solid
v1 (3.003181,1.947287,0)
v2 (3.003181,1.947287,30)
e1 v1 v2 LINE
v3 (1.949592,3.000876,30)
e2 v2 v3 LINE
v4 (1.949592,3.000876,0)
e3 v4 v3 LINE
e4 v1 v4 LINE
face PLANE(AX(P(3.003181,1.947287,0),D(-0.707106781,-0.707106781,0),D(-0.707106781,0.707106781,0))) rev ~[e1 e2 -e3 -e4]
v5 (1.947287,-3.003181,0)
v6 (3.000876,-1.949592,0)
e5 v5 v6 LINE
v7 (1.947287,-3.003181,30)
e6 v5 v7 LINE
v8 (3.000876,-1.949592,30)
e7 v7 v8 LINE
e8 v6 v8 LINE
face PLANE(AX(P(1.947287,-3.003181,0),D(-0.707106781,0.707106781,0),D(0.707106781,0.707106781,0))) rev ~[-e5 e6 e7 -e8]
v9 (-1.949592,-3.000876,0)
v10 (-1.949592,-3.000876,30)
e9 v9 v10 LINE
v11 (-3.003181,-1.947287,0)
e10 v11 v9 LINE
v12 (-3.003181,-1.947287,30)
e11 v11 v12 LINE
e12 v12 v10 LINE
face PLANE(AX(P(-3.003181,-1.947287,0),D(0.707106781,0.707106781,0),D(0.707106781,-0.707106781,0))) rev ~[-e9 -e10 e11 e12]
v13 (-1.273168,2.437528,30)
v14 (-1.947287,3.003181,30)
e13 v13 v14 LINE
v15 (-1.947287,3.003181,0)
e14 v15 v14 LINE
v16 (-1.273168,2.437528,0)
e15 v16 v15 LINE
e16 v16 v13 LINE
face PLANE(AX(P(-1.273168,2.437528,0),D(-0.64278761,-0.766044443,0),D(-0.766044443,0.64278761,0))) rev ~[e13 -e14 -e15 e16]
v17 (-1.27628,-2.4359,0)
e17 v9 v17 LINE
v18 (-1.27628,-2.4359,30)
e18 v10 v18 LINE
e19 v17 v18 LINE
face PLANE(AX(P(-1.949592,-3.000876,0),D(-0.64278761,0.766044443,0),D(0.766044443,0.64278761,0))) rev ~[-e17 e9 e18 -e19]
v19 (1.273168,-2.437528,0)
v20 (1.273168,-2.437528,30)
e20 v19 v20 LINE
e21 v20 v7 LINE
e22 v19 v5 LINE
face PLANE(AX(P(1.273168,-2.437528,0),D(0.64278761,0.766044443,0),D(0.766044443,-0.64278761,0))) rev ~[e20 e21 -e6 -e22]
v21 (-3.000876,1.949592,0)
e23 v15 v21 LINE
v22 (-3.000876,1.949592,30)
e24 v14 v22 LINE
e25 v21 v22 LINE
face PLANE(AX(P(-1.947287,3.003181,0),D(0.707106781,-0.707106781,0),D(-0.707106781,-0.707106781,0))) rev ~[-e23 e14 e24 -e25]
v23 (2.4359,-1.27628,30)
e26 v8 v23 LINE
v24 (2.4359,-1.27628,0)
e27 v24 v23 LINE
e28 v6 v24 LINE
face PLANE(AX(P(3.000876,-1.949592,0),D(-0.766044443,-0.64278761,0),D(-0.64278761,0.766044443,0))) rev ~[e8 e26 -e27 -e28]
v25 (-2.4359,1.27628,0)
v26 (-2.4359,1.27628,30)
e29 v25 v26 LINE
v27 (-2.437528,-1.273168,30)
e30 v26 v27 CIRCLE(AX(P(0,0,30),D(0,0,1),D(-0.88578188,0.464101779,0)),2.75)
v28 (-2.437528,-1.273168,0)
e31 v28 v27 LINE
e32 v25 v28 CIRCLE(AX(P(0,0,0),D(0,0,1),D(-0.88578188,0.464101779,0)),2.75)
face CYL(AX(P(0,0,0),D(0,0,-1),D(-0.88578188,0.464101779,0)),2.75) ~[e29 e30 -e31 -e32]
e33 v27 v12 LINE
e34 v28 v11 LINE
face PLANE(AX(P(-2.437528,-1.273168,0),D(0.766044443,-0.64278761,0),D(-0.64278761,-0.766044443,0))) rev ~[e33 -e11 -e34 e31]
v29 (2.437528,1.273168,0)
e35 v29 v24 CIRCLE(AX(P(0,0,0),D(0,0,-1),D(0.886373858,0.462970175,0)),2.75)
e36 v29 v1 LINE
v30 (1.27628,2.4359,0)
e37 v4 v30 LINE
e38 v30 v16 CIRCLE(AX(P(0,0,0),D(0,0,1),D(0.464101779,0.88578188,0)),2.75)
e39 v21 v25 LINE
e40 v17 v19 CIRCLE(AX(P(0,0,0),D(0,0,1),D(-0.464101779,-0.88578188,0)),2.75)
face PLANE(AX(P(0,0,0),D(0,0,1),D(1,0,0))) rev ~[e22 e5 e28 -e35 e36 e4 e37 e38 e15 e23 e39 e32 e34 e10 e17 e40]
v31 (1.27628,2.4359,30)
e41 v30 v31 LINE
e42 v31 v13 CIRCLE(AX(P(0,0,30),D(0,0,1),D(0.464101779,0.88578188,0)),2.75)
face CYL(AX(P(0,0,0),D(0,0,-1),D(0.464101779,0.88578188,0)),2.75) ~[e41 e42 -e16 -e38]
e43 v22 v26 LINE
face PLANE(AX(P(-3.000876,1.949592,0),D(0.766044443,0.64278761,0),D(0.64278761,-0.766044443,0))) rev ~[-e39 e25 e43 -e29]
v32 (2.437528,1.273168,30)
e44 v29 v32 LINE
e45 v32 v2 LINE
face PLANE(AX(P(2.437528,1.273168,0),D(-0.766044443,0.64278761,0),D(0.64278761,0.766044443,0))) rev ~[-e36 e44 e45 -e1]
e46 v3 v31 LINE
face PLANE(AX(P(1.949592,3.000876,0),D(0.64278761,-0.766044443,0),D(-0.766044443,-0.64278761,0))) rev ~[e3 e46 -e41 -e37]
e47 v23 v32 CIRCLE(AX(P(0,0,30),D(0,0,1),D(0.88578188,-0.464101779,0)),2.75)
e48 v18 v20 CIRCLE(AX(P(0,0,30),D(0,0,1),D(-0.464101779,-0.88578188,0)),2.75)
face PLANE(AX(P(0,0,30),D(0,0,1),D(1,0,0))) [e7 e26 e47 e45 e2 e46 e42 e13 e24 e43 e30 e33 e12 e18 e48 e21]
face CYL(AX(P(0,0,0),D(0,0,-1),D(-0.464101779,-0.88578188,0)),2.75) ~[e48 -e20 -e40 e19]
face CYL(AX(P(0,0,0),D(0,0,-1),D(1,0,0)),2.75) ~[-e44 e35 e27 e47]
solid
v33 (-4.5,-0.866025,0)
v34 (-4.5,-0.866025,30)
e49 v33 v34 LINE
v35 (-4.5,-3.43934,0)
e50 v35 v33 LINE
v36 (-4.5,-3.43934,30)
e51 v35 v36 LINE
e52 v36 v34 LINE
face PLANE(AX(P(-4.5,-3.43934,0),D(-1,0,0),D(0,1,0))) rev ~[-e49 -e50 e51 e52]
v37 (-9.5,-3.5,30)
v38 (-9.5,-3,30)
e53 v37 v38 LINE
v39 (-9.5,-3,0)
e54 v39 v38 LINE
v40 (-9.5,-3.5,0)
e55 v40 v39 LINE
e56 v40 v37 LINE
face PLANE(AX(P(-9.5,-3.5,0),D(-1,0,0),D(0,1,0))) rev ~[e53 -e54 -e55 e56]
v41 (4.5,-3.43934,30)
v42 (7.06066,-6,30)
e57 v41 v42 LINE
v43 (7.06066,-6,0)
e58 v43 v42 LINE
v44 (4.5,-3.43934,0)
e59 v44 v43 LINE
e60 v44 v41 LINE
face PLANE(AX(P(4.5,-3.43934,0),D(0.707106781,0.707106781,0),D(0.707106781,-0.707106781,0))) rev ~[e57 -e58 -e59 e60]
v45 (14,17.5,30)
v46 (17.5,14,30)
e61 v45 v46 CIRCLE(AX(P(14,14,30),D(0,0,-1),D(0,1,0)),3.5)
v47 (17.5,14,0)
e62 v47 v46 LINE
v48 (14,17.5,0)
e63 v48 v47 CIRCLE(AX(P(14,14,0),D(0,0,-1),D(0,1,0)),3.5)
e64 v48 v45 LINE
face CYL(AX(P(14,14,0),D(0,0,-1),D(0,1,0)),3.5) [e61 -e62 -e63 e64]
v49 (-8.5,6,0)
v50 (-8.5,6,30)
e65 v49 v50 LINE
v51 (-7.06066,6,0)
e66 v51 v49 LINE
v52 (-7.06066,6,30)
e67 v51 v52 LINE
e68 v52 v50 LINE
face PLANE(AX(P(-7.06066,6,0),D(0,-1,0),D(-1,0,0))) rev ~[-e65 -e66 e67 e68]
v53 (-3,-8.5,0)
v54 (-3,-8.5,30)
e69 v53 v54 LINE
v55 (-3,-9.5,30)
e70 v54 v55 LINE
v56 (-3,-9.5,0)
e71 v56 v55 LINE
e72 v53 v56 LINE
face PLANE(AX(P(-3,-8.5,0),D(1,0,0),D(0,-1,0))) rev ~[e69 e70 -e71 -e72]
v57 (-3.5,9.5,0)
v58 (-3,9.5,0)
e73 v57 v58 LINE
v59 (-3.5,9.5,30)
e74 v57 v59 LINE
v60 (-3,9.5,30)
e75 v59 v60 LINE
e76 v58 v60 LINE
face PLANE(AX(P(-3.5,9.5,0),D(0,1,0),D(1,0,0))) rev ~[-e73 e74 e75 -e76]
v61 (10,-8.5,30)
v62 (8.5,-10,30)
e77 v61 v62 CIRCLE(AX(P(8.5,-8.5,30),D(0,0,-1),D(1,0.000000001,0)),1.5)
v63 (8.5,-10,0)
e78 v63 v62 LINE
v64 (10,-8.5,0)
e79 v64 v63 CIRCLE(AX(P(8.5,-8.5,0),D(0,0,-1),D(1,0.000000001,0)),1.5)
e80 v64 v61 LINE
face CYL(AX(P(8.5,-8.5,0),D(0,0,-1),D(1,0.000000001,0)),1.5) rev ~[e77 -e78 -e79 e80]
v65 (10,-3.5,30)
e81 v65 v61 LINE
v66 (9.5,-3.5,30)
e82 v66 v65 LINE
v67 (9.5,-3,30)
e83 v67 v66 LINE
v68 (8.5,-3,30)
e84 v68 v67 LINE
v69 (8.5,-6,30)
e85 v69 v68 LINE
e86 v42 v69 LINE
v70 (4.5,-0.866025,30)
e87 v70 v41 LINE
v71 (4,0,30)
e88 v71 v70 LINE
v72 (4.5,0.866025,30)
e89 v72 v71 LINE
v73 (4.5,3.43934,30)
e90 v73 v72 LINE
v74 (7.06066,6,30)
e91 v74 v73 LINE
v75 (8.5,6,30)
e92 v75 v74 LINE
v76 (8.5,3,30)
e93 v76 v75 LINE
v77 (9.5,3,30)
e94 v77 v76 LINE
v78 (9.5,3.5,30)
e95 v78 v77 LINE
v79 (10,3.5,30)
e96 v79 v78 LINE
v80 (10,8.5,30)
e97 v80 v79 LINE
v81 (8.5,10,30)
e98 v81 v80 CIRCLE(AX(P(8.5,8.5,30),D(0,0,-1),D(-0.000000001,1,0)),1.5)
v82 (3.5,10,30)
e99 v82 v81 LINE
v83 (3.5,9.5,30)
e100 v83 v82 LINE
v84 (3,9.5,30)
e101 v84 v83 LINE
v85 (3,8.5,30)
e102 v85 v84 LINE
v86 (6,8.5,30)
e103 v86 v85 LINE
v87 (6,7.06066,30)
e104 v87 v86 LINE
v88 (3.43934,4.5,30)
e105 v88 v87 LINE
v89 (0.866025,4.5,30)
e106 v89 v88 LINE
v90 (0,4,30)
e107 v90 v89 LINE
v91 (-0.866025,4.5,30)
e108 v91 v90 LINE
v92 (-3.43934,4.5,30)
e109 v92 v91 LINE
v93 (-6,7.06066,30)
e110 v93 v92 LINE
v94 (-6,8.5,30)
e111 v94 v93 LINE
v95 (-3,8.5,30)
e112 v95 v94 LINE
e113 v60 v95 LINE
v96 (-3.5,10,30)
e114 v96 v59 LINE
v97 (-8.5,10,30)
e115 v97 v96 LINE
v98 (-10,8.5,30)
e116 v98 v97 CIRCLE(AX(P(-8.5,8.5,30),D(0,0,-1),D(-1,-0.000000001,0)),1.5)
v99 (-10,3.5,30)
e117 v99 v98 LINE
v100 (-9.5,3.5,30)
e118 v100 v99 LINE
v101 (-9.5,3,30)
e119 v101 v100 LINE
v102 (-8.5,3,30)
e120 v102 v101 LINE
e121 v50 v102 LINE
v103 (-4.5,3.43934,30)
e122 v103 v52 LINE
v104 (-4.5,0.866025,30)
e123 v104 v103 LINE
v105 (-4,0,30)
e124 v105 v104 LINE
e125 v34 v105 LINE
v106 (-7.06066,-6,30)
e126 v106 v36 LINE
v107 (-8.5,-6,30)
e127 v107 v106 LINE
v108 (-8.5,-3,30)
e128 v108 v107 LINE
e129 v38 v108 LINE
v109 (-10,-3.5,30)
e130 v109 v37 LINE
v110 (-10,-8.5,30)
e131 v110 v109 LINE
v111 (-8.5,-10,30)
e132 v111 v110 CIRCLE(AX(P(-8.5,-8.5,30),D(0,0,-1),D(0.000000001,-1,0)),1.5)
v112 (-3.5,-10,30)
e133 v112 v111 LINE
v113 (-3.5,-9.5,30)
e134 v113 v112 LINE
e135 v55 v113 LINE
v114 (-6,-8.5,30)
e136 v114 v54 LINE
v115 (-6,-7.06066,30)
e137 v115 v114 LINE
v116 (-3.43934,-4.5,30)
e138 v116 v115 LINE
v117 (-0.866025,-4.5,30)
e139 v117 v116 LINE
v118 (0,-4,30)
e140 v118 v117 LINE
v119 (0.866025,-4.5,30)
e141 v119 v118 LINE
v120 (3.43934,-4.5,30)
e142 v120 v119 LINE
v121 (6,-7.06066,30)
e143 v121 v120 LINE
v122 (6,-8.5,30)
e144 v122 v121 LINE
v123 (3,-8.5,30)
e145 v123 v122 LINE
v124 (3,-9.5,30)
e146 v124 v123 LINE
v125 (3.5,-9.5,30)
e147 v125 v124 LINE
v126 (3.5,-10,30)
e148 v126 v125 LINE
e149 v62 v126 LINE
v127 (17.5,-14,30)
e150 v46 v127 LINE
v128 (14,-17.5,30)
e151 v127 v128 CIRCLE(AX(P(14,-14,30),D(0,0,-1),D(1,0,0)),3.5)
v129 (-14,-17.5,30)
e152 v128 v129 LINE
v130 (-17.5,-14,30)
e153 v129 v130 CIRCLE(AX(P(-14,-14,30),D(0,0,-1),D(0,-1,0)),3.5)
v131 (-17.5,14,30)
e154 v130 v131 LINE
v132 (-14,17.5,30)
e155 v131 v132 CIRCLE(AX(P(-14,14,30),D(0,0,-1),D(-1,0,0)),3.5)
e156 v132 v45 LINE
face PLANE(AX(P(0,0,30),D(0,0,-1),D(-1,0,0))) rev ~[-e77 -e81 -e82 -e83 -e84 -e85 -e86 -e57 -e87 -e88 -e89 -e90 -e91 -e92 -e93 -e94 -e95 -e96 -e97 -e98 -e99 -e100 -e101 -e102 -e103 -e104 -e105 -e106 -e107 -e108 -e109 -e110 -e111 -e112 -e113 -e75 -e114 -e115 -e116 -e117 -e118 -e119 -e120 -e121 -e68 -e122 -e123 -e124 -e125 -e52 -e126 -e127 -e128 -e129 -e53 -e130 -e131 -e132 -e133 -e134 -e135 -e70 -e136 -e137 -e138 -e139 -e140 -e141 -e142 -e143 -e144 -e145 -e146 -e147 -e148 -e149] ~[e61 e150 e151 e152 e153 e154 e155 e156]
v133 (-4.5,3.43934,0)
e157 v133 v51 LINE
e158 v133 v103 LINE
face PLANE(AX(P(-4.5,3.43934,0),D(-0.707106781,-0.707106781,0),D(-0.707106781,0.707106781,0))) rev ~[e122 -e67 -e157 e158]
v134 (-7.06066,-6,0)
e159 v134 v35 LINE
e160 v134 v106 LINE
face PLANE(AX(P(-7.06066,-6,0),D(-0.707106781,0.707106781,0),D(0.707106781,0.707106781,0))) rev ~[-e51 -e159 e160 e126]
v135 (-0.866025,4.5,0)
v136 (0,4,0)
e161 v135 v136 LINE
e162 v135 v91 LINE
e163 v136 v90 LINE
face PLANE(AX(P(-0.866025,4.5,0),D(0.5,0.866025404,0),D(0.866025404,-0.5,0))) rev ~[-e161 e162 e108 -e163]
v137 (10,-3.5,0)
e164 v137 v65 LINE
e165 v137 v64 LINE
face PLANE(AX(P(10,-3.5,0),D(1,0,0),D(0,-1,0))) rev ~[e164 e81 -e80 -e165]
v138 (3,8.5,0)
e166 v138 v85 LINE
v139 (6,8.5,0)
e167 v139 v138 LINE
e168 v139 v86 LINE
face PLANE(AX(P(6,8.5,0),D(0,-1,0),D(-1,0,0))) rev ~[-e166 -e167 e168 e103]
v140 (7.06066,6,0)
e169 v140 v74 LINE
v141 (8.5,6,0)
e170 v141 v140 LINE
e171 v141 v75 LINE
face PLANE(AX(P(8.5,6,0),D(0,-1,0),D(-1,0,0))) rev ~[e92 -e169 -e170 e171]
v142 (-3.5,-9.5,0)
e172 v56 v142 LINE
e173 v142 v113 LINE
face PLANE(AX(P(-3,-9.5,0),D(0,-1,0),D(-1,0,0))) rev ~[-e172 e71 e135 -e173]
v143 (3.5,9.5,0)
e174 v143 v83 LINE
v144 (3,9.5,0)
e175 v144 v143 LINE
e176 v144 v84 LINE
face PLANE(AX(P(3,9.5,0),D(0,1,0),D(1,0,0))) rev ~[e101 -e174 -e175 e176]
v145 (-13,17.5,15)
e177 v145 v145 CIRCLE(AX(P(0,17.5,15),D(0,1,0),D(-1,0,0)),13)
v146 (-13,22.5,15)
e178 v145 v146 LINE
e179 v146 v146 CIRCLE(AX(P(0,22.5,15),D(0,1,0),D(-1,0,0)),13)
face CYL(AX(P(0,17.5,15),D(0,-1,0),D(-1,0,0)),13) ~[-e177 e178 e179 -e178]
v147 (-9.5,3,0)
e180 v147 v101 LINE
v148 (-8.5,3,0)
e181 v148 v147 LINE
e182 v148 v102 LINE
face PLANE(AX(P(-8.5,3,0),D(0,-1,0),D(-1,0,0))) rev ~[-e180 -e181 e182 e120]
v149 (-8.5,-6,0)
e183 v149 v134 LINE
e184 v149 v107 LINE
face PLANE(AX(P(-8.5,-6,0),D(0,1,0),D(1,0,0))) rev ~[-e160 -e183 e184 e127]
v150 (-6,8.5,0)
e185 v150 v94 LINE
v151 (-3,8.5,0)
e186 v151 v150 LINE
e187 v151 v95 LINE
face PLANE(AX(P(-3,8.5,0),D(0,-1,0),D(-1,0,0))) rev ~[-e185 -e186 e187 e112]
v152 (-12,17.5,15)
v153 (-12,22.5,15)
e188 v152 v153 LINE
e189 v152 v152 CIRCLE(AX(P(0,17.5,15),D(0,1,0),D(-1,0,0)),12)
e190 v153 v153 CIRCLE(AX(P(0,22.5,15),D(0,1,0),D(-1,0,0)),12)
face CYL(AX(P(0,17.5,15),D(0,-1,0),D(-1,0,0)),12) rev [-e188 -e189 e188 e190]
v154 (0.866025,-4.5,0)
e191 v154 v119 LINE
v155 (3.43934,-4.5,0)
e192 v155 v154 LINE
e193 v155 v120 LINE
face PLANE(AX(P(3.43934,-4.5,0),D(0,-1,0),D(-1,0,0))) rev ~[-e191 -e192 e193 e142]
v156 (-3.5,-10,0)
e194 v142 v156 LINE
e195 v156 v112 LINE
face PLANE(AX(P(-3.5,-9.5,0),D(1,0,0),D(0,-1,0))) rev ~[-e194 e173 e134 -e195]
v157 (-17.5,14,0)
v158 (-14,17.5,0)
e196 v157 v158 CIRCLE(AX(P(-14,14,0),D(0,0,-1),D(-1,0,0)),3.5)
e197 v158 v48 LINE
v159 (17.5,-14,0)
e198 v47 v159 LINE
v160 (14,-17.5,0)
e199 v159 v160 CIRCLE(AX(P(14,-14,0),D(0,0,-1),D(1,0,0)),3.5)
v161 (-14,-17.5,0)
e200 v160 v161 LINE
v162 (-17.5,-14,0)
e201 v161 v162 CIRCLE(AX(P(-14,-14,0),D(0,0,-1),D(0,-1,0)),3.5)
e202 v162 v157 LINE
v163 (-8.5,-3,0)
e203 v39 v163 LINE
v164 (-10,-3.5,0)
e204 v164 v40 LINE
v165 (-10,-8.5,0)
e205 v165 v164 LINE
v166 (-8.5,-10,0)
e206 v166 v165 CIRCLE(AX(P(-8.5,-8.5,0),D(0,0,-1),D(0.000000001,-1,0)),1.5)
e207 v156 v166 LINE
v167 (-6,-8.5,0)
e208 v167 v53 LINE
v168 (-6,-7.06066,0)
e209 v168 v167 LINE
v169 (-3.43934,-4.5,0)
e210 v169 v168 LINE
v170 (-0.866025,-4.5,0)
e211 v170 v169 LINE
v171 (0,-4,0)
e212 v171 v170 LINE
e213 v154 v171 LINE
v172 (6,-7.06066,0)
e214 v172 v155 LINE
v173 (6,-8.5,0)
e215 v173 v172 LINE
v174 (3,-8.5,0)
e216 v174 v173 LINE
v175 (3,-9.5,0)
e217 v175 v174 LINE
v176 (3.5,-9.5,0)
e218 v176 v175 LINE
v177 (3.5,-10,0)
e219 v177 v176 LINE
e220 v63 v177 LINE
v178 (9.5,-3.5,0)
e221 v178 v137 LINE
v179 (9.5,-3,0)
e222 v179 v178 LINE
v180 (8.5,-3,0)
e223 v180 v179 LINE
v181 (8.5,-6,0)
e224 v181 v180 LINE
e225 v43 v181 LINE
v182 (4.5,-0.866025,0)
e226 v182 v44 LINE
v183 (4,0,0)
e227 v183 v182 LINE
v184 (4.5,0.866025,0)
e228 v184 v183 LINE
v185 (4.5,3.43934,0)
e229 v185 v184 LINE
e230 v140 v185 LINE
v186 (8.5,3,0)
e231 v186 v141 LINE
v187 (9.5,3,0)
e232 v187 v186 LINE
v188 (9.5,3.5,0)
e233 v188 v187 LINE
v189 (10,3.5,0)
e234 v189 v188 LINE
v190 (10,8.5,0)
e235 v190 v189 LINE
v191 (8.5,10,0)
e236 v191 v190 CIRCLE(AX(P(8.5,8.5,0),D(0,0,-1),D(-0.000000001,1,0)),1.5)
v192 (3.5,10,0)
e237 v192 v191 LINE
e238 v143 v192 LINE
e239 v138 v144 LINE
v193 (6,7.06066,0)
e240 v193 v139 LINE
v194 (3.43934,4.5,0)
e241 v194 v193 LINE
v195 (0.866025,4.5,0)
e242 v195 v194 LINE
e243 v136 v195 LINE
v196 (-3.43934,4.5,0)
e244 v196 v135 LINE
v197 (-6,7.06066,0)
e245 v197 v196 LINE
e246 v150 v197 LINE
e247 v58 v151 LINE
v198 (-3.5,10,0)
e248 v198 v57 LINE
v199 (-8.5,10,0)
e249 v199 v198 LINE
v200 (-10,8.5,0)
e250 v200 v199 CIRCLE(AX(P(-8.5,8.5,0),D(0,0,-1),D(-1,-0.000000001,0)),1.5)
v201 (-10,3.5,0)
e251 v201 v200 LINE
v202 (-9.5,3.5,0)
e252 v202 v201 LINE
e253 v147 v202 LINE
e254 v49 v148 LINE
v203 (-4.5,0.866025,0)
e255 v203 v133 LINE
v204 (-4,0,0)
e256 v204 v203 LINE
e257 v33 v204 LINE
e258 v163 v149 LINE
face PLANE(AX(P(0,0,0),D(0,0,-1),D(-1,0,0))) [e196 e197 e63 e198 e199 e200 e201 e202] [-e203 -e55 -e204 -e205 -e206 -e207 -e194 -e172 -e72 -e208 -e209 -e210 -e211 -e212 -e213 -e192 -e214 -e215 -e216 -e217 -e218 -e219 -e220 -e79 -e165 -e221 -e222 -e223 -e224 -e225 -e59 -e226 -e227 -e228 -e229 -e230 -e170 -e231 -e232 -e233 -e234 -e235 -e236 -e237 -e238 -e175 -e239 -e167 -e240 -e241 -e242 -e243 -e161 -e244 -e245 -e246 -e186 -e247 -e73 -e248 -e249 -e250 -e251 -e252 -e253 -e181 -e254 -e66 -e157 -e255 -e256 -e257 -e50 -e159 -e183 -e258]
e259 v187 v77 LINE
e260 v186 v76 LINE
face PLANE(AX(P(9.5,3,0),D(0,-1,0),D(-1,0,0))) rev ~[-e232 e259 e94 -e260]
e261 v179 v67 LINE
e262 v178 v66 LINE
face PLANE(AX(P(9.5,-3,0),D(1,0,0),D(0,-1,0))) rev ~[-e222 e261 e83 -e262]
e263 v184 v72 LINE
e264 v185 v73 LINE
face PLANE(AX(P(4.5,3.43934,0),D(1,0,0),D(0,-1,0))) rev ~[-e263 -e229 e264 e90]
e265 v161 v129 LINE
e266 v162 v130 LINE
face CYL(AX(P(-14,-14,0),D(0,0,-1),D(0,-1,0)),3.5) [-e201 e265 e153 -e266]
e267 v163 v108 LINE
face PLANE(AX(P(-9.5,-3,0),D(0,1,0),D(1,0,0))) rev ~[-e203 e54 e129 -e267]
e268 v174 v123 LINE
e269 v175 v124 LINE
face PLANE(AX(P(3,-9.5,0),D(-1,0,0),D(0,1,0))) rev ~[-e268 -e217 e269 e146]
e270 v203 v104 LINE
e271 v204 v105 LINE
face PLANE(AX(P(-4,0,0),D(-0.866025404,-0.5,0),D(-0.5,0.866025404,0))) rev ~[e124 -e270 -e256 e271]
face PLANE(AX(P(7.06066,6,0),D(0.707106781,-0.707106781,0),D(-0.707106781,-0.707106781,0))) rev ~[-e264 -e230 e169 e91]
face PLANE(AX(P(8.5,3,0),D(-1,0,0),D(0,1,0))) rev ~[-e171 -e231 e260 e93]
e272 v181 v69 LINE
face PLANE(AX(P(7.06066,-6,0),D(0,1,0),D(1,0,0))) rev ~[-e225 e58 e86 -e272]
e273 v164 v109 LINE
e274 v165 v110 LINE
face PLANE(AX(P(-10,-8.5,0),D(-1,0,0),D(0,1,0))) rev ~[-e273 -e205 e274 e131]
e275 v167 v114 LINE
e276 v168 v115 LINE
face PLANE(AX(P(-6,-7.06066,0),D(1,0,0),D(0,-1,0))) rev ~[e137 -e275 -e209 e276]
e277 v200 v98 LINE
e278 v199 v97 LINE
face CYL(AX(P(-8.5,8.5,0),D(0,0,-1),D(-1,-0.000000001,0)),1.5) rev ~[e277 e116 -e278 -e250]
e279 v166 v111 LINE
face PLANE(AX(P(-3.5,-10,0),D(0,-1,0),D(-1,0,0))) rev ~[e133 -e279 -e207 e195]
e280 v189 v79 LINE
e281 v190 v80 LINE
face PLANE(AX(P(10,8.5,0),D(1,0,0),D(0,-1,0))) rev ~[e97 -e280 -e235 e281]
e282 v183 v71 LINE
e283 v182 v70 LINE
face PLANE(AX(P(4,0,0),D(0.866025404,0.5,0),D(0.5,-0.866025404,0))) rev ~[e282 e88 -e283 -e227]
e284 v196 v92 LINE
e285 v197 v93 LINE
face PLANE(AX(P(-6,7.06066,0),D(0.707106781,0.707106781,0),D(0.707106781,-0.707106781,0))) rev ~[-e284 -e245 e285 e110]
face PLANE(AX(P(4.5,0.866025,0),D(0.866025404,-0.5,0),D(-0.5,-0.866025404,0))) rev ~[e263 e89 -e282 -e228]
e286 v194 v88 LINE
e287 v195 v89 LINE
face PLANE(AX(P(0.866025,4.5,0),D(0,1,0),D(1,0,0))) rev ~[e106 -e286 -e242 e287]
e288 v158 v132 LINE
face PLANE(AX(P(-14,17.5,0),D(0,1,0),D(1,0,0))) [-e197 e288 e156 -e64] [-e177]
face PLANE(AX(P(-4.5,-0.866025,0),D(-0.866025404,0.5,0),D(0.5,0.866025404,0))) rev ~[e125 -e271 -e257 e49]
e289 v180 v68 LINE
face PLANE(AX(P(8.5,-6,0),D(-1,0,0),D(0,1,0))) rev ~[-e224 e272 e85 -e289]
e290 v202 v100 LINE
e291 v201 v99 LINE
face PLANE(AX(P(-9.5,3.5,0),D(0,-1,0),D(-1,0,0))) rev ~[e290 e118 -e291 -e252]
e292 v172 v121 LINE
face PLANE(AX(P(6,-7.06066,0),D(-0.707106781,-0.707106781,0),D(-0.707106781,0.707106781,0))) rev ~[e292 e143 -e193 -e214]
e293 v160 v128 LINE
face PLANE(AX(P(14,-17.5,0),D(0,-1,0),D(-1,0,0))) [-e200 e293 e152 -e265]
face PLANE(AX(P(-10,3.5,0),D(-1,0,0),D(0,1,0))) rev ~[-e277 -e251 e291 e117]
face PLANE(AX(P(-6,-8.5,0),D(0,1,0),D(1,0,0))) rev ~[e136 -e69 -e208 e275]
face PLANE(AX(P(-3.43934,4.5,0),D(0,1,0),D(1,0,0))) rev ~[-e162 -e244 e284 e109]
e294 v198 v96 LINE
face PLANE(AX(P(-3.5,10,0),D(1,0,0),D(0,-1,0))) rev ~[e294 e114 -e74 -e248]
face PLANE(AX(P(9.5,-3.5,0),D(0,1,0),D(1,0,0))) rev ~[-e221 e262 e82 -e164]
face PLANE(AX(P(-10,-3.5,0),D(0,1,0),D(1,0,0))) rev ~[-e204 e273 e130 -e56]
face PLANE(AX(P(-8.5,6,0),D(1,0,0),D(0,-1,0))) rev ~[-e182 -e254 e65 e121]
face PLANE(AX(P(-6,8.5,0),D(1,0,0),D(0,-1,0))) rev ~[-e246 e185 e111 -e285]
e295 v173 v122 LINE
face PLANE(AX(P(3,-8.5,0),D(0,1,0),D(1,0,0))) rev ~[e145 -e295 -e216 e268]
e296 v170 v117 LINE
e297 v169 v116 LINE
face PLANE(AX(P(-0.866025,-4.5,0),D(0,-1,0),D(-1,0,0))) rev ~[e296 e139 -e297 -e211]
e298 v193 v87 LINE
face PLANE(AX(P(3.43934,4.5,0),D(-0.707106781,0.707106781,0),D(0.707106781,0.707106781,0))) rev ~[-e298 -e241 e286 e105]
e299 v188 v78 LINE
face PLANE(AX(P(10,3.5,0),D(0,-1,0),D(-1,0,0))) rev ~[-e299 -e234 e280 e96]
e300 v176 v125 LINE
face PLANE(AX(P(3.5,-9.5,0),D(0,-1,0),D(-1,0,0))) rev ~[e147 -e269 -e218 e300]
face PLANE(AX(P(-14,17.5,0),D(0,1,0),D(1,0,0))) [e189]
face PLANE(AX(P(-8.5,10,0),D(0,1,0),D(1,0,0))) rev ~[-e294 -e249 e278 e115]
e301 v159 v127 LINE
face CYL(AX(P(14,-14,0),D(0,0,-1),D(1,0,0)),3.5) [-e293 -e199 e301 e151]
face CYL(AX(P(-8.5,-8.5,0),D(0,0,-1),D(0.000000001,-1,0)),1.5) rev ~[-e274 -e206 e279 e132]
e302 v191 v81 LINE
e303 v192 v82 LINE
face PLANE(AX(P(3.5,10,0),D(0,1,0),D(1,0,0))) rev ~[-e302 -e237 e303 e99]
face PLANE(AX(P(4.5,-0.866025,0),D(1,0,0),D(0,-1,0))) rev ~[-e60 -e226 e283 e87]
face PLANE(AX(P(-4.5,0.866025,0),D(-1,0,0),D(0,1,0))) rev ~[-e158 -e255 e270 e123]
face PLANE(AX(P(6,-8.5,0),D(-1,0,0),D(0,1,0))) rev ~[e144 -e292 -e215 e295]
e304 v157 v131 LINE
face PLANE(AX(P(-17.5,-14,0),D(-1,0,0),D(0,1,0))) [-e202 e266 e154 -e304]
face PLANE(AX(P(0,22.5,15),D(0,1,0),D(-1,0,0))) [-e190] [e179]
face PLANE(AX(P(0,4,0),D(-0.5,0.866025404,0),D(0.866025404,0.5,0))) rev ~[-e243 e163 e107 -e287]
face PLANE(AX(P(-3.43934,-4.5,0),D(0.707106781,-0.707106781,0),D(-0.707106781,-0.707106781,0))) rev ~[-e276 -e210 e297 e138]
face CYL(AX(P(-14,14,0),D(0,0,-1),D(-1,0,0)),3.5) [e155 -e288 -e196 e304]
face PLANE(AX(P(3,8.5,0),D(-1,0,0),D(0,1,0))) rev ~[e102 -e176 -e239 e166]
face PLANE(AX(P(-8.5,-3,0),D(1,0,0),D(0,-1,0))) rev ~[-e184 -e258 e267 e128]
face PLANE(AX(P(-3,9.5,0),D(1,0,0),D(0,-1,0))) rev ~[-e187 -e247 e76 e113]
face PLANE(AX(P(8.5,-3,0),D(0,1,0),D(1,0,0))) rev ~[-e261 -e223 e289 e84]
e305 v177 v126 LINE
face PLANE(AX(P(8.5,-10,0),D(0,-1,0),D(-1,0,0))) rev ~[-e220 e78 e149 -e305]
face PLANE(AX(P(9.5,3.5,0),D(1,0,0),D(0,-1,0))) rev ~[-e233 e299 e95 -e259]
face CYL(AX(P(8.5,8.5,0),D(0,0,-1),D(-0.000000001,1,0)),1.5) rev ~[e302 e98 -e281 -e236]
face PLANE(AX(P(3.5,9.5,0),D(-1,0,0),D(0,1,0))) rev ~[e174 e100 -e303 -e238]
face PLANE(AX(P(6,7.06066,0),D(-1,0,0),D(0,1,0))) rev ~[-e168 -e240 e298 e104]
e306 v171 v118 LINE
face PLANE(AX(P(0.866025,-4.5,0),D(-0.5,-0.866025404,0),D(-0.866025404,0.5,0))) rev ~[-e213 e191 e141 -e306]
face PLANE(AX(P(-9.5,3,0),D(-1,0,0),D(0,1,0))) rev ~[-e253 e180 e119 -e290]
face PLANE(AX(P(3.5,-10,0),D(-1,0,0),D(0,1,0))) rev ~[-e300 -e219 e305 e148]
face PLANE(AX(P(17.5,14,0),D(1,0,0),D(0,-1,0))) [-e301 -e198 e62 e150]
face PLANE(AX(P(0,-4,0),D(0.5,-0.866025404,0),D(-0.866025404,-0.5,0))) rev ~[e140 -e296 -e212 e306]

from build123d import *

# Parameters (mm, degrees)
ESQUISSE1_R          = 2.75
BOSS_EXTRU_1_DEPTH   = 30
BOSS_EXTRU_1_2_DEPTH = 30
ESQUISSE3_R          = 13
ESQUISSE3_R_2        = 12
BOSS_EXTRU_2_DEPTH   = 5
BOSS_EXTRU_3_START   = -30
BOSS_EXTRU_3_DEPTH   = 30


with BuildPart() as part:
    # Esquisse1 → Boss.-Extru.1 (new body)
    with BuildSketch(Plane.XY):
        Circle(ESQUISSE1_R)
    extrude(amount=BOSS_EXTRU_1_DEPTH)

    # Esquisse4 → Boss.-Extru.3 (add)
    with BuildSketch(Plane.XY.offset(30).offset(BOSS_EXTRU_3_START)):
        with BuildLine():
            Line((1.949592103, 3.000876196), (1.276279893, 2.435900169))
            ThreePointArc((1.276279893, 2.435900169), (0.001756003, 2.749999439), (-1.273167982, 2.43752811))
            Line((-1.273167982, 2.43752811), (-1.947287092, 3.003181207))
            Line((-1.947287092, 3.003181207), (-3.000876196, 1.949592103))
            Line((-3.000876196, 1.949592103), (-2.435900169, 1.276279893))
            ThreePointArc((-2.435900169, 1.276279893), (-2.749999439, 0.001756003), (-2.43752811, -1.273167982))
            Line((-2.43752811, -1.273167982), (-3.003181207, -1.947287092))
            Line((-3.003181207, -1.947287092), (-1.949592103, -3.000876196))
            Line((-1.949592103, -3.000876196), (-1.276279893, -2.435900169))
            ThreePointArc((-1.276279893, -2.435900169), (-0.001756003, -2.749999439), (1.273167982, -2.43752811))
            Line((1.273167982, -2.43752811), (1.947287092, -3.003181207))
            Line((1.947287092, -3.003181207), (3.000876196, -1.949592103))
            Line((3.000876196, -1.949592103), (2.435900169, -1.276279893))
            ThreePointArc((2.435900169, -1.276279893), (2.749999439, -0.001756003), (2.43752811, 1.273167982))
            Line((2.43752811, 1.273167982), (3.003181207, 1.947287092))
            Line((3.003181207, 1.947287092), (1.949592103, 3.000876196))
        make_face()
    extrude(amount=BOSS_EXTRU_3_DEPTH)


with BuildPart() as body_2:
    # Esquisse1 → Boss.-Extru.1 2 (new body)
    with BuildSketch(Plane.XY):
        with BuildLine():
            Line((-14, 17.5), (14, 17.5))
            ThreePointArc((14, 17.5), (16.474873734, 16.474873734), (17.5, 14))
            Line((17.5, 14), (17.5, -14))
            ThreePointArc((17.5, -14), (16.474873734, -16.474873734), (14, -17.5))
            Line((14, -17.5), (-14, -17.5))
            ThreePointArc((-14, -17.5), (-16.474873734, -16.474873734), (-17.5, -14))
            Line((-17.5, -14), (-17.5, 14))
            ThreePointArc((-17.5, 14), (-16.474873734, 16.474873734), (-14, 17.5))
        make_face()
        with BuildLine():
            Line((-4, 0), (-4.5, 0.866025404))
            Line((-4.5, 0.866025404), (-4.5, 3.439339828))
            Line((-4.5, 3.439339828), (-7.060660172, 6))
            Line((-7.060660172, 6), (-8.5, 6))
            Line((-8.5, 6), (-8.5, 3))
            Line((-8.5, 3), (-9.5, 3))
            Line((-9.5, 3), (-9.5, 3.5))
            Line((-9.5, 3.5), (-10, 3.5))
            Line((-10, 3.5), (-10, 8.5))
            ThreePointArc((-10, 8.5), (-9.560660172, 9.560660172), (-8.5, 10))
            Line((-8.5, 10), (-3.5, 10))
            Line((-3.5, 10), (-3.5, 9.5))
            Line((-3.5, 9.5), (-3, 9.5))
            Line((-3, 9.5), (-3, 8.5))
            Line((-3, 8.5), (-6, 8.5))
            Line((-6, 8.5), (-6, 7.060660172))
            Line((-6, 7.060660172), (-3.439339828, 4.5))
            Line((-3.439339828, 4.5), (-0.866025404, 4.5))
            Line((-0.866025404, 4.5), (0, 4))
            Line((0, 4), (0.866025404, 4.5))
            Line((0.866025404, 4.5), (3.439339828, 4.5))
            Line((3.439339828, 4.5), (6, 7.060660172))
            Line((6, 7.060660172), (6, 8.5))
            Line((6, 8.5), (3, 8.5))
            Line((3, 8.5), (3, 9.5))
            Line((3, 9.5), (3.5, 9.5))
            Line((3.5, 9.5), (3.5, 10))
            Line((3.5, 10), (8.5, 10))
            ThreePointArc((8.5, 10), (9.560660172, 9.560660172), (10, 8.5))
            Line((10, 8.5), (10, 3.5))
            Line((10, 3.5), (9.5, 3.5))
            Line((9.5, 3.5), (9.5, 3))
            Line((9.5, 3), (8.5, 3))
            Line((8.5, 3), (8.5, 6))
            Line((8.5, 6), (7.060660172, 6))
            Line((7.060660172, 6), (4.5, 3.439339828))
            Line((4.5, 3.439339828), (4.5, 0.866025404))
            Line((4.5, 0.866025404), (4, 0))
            Line((4, 0), (4.5, -0.866025404))
            Line((4.5, -0.866025404), (4.5, -3.439339828))
            Line((4.5, -3.439339828), (7.060660172, -6))
            Line((7.060660172, -6), (8.5, -6))
            Line((8.5, -6), (8.5, -3))
            Line((8.5, -3), (9.5, -3))
            Line((9.5, -3), (9.5, -3.5))
            Line((9.5, -3.5), (10, -3.5))
            Line((10, -3.5), (10, -8.5))
            ThreePointArc((10, -8.5), (9.560660172, -9.560660172), (8.5, -10))
            Line((8.5, -10), (3.5, -10))
            Line((3.5, -10), (3.5, -9.5))
            Line((3.5, -9.5), (3, -9.5))
            Line((3, -9.5), (3, -8.5))
            Line((3, -8.5), (6, -8.5))
            Line((6, -8.5), (6, -7.060660172))
            Line((6, -7.060660172), (3.439339828, -4.5))
            Line((3.439339828, -4.5), (0.866025404, -4.5))
            Line((0.866025404, -4.5), (0, -4))
            Line((0, -4), (-0.866025404, -4.5))
            Line((-0.866025404, -4.5), (-3.439339828, -4.5))
            Line((-3.439339828, -4.5), (-6, -7.060660172))
            Line((-6, -7.060660172), (-6, -8.5))
            Line((-6, -8.5), (-3, -8.5))
            Line((-3, -8.5), (-3, -9.5))
            Line((-3, -9.5), (-3.5, -9.5))
            Line((-3.5, -9.5), (-3.5, -10))
            Line((-3.5, -10), (-8.5, -10))
            ThreePointArc((-8.5, -10), (-9.560660172, -9.560660172), (-10, -8.5))
            Line((-10, -8.5), (-10, -3.5))
            Line((-10, -3.5), (-9.5, -3.5))
            Line((-9.5, -3.5), (-9.5, -3))
            Line((-9.5, -3), (-8.5, -3))
            Line((-8.5, -3), (-8.5, -6))
            Line((-8.5, -6), (-7.060660172, -6))
            Line((-7.060660172, -6), (-4.5, -3.439339828))
            Line((-4.5, -3.439339828), (-4.5, -0.866025404))
            Line((-4.5, -0.866025404), (-4, 0))
        make_face(mode=Mode.SUBTRACT)
    extrude(amount=BOSS_EXTRU_1_2_DEPTH)

    # Esquisse3 → Boss.-Extru.2 (add)
    with BuildSketch(Plane(origin=(0, 17.5, 0), x_dir=(1, 0, 0), z_dir=(0, 1, 0))):
        with Locations(Location((0, -15, 0), (0, 0, 180))):
            Circle(ESQUISSE3_R)
        with Locations(Location((0, -15, 0), (0, 0, 180))):
            Circle(ESQUISSE3_R_2, mode=Mode.SUBTRACT)
    extrude(amount=BOSS_EXTRU_2_DEPTH)


solid = Compound([part.part, body_2.part])
